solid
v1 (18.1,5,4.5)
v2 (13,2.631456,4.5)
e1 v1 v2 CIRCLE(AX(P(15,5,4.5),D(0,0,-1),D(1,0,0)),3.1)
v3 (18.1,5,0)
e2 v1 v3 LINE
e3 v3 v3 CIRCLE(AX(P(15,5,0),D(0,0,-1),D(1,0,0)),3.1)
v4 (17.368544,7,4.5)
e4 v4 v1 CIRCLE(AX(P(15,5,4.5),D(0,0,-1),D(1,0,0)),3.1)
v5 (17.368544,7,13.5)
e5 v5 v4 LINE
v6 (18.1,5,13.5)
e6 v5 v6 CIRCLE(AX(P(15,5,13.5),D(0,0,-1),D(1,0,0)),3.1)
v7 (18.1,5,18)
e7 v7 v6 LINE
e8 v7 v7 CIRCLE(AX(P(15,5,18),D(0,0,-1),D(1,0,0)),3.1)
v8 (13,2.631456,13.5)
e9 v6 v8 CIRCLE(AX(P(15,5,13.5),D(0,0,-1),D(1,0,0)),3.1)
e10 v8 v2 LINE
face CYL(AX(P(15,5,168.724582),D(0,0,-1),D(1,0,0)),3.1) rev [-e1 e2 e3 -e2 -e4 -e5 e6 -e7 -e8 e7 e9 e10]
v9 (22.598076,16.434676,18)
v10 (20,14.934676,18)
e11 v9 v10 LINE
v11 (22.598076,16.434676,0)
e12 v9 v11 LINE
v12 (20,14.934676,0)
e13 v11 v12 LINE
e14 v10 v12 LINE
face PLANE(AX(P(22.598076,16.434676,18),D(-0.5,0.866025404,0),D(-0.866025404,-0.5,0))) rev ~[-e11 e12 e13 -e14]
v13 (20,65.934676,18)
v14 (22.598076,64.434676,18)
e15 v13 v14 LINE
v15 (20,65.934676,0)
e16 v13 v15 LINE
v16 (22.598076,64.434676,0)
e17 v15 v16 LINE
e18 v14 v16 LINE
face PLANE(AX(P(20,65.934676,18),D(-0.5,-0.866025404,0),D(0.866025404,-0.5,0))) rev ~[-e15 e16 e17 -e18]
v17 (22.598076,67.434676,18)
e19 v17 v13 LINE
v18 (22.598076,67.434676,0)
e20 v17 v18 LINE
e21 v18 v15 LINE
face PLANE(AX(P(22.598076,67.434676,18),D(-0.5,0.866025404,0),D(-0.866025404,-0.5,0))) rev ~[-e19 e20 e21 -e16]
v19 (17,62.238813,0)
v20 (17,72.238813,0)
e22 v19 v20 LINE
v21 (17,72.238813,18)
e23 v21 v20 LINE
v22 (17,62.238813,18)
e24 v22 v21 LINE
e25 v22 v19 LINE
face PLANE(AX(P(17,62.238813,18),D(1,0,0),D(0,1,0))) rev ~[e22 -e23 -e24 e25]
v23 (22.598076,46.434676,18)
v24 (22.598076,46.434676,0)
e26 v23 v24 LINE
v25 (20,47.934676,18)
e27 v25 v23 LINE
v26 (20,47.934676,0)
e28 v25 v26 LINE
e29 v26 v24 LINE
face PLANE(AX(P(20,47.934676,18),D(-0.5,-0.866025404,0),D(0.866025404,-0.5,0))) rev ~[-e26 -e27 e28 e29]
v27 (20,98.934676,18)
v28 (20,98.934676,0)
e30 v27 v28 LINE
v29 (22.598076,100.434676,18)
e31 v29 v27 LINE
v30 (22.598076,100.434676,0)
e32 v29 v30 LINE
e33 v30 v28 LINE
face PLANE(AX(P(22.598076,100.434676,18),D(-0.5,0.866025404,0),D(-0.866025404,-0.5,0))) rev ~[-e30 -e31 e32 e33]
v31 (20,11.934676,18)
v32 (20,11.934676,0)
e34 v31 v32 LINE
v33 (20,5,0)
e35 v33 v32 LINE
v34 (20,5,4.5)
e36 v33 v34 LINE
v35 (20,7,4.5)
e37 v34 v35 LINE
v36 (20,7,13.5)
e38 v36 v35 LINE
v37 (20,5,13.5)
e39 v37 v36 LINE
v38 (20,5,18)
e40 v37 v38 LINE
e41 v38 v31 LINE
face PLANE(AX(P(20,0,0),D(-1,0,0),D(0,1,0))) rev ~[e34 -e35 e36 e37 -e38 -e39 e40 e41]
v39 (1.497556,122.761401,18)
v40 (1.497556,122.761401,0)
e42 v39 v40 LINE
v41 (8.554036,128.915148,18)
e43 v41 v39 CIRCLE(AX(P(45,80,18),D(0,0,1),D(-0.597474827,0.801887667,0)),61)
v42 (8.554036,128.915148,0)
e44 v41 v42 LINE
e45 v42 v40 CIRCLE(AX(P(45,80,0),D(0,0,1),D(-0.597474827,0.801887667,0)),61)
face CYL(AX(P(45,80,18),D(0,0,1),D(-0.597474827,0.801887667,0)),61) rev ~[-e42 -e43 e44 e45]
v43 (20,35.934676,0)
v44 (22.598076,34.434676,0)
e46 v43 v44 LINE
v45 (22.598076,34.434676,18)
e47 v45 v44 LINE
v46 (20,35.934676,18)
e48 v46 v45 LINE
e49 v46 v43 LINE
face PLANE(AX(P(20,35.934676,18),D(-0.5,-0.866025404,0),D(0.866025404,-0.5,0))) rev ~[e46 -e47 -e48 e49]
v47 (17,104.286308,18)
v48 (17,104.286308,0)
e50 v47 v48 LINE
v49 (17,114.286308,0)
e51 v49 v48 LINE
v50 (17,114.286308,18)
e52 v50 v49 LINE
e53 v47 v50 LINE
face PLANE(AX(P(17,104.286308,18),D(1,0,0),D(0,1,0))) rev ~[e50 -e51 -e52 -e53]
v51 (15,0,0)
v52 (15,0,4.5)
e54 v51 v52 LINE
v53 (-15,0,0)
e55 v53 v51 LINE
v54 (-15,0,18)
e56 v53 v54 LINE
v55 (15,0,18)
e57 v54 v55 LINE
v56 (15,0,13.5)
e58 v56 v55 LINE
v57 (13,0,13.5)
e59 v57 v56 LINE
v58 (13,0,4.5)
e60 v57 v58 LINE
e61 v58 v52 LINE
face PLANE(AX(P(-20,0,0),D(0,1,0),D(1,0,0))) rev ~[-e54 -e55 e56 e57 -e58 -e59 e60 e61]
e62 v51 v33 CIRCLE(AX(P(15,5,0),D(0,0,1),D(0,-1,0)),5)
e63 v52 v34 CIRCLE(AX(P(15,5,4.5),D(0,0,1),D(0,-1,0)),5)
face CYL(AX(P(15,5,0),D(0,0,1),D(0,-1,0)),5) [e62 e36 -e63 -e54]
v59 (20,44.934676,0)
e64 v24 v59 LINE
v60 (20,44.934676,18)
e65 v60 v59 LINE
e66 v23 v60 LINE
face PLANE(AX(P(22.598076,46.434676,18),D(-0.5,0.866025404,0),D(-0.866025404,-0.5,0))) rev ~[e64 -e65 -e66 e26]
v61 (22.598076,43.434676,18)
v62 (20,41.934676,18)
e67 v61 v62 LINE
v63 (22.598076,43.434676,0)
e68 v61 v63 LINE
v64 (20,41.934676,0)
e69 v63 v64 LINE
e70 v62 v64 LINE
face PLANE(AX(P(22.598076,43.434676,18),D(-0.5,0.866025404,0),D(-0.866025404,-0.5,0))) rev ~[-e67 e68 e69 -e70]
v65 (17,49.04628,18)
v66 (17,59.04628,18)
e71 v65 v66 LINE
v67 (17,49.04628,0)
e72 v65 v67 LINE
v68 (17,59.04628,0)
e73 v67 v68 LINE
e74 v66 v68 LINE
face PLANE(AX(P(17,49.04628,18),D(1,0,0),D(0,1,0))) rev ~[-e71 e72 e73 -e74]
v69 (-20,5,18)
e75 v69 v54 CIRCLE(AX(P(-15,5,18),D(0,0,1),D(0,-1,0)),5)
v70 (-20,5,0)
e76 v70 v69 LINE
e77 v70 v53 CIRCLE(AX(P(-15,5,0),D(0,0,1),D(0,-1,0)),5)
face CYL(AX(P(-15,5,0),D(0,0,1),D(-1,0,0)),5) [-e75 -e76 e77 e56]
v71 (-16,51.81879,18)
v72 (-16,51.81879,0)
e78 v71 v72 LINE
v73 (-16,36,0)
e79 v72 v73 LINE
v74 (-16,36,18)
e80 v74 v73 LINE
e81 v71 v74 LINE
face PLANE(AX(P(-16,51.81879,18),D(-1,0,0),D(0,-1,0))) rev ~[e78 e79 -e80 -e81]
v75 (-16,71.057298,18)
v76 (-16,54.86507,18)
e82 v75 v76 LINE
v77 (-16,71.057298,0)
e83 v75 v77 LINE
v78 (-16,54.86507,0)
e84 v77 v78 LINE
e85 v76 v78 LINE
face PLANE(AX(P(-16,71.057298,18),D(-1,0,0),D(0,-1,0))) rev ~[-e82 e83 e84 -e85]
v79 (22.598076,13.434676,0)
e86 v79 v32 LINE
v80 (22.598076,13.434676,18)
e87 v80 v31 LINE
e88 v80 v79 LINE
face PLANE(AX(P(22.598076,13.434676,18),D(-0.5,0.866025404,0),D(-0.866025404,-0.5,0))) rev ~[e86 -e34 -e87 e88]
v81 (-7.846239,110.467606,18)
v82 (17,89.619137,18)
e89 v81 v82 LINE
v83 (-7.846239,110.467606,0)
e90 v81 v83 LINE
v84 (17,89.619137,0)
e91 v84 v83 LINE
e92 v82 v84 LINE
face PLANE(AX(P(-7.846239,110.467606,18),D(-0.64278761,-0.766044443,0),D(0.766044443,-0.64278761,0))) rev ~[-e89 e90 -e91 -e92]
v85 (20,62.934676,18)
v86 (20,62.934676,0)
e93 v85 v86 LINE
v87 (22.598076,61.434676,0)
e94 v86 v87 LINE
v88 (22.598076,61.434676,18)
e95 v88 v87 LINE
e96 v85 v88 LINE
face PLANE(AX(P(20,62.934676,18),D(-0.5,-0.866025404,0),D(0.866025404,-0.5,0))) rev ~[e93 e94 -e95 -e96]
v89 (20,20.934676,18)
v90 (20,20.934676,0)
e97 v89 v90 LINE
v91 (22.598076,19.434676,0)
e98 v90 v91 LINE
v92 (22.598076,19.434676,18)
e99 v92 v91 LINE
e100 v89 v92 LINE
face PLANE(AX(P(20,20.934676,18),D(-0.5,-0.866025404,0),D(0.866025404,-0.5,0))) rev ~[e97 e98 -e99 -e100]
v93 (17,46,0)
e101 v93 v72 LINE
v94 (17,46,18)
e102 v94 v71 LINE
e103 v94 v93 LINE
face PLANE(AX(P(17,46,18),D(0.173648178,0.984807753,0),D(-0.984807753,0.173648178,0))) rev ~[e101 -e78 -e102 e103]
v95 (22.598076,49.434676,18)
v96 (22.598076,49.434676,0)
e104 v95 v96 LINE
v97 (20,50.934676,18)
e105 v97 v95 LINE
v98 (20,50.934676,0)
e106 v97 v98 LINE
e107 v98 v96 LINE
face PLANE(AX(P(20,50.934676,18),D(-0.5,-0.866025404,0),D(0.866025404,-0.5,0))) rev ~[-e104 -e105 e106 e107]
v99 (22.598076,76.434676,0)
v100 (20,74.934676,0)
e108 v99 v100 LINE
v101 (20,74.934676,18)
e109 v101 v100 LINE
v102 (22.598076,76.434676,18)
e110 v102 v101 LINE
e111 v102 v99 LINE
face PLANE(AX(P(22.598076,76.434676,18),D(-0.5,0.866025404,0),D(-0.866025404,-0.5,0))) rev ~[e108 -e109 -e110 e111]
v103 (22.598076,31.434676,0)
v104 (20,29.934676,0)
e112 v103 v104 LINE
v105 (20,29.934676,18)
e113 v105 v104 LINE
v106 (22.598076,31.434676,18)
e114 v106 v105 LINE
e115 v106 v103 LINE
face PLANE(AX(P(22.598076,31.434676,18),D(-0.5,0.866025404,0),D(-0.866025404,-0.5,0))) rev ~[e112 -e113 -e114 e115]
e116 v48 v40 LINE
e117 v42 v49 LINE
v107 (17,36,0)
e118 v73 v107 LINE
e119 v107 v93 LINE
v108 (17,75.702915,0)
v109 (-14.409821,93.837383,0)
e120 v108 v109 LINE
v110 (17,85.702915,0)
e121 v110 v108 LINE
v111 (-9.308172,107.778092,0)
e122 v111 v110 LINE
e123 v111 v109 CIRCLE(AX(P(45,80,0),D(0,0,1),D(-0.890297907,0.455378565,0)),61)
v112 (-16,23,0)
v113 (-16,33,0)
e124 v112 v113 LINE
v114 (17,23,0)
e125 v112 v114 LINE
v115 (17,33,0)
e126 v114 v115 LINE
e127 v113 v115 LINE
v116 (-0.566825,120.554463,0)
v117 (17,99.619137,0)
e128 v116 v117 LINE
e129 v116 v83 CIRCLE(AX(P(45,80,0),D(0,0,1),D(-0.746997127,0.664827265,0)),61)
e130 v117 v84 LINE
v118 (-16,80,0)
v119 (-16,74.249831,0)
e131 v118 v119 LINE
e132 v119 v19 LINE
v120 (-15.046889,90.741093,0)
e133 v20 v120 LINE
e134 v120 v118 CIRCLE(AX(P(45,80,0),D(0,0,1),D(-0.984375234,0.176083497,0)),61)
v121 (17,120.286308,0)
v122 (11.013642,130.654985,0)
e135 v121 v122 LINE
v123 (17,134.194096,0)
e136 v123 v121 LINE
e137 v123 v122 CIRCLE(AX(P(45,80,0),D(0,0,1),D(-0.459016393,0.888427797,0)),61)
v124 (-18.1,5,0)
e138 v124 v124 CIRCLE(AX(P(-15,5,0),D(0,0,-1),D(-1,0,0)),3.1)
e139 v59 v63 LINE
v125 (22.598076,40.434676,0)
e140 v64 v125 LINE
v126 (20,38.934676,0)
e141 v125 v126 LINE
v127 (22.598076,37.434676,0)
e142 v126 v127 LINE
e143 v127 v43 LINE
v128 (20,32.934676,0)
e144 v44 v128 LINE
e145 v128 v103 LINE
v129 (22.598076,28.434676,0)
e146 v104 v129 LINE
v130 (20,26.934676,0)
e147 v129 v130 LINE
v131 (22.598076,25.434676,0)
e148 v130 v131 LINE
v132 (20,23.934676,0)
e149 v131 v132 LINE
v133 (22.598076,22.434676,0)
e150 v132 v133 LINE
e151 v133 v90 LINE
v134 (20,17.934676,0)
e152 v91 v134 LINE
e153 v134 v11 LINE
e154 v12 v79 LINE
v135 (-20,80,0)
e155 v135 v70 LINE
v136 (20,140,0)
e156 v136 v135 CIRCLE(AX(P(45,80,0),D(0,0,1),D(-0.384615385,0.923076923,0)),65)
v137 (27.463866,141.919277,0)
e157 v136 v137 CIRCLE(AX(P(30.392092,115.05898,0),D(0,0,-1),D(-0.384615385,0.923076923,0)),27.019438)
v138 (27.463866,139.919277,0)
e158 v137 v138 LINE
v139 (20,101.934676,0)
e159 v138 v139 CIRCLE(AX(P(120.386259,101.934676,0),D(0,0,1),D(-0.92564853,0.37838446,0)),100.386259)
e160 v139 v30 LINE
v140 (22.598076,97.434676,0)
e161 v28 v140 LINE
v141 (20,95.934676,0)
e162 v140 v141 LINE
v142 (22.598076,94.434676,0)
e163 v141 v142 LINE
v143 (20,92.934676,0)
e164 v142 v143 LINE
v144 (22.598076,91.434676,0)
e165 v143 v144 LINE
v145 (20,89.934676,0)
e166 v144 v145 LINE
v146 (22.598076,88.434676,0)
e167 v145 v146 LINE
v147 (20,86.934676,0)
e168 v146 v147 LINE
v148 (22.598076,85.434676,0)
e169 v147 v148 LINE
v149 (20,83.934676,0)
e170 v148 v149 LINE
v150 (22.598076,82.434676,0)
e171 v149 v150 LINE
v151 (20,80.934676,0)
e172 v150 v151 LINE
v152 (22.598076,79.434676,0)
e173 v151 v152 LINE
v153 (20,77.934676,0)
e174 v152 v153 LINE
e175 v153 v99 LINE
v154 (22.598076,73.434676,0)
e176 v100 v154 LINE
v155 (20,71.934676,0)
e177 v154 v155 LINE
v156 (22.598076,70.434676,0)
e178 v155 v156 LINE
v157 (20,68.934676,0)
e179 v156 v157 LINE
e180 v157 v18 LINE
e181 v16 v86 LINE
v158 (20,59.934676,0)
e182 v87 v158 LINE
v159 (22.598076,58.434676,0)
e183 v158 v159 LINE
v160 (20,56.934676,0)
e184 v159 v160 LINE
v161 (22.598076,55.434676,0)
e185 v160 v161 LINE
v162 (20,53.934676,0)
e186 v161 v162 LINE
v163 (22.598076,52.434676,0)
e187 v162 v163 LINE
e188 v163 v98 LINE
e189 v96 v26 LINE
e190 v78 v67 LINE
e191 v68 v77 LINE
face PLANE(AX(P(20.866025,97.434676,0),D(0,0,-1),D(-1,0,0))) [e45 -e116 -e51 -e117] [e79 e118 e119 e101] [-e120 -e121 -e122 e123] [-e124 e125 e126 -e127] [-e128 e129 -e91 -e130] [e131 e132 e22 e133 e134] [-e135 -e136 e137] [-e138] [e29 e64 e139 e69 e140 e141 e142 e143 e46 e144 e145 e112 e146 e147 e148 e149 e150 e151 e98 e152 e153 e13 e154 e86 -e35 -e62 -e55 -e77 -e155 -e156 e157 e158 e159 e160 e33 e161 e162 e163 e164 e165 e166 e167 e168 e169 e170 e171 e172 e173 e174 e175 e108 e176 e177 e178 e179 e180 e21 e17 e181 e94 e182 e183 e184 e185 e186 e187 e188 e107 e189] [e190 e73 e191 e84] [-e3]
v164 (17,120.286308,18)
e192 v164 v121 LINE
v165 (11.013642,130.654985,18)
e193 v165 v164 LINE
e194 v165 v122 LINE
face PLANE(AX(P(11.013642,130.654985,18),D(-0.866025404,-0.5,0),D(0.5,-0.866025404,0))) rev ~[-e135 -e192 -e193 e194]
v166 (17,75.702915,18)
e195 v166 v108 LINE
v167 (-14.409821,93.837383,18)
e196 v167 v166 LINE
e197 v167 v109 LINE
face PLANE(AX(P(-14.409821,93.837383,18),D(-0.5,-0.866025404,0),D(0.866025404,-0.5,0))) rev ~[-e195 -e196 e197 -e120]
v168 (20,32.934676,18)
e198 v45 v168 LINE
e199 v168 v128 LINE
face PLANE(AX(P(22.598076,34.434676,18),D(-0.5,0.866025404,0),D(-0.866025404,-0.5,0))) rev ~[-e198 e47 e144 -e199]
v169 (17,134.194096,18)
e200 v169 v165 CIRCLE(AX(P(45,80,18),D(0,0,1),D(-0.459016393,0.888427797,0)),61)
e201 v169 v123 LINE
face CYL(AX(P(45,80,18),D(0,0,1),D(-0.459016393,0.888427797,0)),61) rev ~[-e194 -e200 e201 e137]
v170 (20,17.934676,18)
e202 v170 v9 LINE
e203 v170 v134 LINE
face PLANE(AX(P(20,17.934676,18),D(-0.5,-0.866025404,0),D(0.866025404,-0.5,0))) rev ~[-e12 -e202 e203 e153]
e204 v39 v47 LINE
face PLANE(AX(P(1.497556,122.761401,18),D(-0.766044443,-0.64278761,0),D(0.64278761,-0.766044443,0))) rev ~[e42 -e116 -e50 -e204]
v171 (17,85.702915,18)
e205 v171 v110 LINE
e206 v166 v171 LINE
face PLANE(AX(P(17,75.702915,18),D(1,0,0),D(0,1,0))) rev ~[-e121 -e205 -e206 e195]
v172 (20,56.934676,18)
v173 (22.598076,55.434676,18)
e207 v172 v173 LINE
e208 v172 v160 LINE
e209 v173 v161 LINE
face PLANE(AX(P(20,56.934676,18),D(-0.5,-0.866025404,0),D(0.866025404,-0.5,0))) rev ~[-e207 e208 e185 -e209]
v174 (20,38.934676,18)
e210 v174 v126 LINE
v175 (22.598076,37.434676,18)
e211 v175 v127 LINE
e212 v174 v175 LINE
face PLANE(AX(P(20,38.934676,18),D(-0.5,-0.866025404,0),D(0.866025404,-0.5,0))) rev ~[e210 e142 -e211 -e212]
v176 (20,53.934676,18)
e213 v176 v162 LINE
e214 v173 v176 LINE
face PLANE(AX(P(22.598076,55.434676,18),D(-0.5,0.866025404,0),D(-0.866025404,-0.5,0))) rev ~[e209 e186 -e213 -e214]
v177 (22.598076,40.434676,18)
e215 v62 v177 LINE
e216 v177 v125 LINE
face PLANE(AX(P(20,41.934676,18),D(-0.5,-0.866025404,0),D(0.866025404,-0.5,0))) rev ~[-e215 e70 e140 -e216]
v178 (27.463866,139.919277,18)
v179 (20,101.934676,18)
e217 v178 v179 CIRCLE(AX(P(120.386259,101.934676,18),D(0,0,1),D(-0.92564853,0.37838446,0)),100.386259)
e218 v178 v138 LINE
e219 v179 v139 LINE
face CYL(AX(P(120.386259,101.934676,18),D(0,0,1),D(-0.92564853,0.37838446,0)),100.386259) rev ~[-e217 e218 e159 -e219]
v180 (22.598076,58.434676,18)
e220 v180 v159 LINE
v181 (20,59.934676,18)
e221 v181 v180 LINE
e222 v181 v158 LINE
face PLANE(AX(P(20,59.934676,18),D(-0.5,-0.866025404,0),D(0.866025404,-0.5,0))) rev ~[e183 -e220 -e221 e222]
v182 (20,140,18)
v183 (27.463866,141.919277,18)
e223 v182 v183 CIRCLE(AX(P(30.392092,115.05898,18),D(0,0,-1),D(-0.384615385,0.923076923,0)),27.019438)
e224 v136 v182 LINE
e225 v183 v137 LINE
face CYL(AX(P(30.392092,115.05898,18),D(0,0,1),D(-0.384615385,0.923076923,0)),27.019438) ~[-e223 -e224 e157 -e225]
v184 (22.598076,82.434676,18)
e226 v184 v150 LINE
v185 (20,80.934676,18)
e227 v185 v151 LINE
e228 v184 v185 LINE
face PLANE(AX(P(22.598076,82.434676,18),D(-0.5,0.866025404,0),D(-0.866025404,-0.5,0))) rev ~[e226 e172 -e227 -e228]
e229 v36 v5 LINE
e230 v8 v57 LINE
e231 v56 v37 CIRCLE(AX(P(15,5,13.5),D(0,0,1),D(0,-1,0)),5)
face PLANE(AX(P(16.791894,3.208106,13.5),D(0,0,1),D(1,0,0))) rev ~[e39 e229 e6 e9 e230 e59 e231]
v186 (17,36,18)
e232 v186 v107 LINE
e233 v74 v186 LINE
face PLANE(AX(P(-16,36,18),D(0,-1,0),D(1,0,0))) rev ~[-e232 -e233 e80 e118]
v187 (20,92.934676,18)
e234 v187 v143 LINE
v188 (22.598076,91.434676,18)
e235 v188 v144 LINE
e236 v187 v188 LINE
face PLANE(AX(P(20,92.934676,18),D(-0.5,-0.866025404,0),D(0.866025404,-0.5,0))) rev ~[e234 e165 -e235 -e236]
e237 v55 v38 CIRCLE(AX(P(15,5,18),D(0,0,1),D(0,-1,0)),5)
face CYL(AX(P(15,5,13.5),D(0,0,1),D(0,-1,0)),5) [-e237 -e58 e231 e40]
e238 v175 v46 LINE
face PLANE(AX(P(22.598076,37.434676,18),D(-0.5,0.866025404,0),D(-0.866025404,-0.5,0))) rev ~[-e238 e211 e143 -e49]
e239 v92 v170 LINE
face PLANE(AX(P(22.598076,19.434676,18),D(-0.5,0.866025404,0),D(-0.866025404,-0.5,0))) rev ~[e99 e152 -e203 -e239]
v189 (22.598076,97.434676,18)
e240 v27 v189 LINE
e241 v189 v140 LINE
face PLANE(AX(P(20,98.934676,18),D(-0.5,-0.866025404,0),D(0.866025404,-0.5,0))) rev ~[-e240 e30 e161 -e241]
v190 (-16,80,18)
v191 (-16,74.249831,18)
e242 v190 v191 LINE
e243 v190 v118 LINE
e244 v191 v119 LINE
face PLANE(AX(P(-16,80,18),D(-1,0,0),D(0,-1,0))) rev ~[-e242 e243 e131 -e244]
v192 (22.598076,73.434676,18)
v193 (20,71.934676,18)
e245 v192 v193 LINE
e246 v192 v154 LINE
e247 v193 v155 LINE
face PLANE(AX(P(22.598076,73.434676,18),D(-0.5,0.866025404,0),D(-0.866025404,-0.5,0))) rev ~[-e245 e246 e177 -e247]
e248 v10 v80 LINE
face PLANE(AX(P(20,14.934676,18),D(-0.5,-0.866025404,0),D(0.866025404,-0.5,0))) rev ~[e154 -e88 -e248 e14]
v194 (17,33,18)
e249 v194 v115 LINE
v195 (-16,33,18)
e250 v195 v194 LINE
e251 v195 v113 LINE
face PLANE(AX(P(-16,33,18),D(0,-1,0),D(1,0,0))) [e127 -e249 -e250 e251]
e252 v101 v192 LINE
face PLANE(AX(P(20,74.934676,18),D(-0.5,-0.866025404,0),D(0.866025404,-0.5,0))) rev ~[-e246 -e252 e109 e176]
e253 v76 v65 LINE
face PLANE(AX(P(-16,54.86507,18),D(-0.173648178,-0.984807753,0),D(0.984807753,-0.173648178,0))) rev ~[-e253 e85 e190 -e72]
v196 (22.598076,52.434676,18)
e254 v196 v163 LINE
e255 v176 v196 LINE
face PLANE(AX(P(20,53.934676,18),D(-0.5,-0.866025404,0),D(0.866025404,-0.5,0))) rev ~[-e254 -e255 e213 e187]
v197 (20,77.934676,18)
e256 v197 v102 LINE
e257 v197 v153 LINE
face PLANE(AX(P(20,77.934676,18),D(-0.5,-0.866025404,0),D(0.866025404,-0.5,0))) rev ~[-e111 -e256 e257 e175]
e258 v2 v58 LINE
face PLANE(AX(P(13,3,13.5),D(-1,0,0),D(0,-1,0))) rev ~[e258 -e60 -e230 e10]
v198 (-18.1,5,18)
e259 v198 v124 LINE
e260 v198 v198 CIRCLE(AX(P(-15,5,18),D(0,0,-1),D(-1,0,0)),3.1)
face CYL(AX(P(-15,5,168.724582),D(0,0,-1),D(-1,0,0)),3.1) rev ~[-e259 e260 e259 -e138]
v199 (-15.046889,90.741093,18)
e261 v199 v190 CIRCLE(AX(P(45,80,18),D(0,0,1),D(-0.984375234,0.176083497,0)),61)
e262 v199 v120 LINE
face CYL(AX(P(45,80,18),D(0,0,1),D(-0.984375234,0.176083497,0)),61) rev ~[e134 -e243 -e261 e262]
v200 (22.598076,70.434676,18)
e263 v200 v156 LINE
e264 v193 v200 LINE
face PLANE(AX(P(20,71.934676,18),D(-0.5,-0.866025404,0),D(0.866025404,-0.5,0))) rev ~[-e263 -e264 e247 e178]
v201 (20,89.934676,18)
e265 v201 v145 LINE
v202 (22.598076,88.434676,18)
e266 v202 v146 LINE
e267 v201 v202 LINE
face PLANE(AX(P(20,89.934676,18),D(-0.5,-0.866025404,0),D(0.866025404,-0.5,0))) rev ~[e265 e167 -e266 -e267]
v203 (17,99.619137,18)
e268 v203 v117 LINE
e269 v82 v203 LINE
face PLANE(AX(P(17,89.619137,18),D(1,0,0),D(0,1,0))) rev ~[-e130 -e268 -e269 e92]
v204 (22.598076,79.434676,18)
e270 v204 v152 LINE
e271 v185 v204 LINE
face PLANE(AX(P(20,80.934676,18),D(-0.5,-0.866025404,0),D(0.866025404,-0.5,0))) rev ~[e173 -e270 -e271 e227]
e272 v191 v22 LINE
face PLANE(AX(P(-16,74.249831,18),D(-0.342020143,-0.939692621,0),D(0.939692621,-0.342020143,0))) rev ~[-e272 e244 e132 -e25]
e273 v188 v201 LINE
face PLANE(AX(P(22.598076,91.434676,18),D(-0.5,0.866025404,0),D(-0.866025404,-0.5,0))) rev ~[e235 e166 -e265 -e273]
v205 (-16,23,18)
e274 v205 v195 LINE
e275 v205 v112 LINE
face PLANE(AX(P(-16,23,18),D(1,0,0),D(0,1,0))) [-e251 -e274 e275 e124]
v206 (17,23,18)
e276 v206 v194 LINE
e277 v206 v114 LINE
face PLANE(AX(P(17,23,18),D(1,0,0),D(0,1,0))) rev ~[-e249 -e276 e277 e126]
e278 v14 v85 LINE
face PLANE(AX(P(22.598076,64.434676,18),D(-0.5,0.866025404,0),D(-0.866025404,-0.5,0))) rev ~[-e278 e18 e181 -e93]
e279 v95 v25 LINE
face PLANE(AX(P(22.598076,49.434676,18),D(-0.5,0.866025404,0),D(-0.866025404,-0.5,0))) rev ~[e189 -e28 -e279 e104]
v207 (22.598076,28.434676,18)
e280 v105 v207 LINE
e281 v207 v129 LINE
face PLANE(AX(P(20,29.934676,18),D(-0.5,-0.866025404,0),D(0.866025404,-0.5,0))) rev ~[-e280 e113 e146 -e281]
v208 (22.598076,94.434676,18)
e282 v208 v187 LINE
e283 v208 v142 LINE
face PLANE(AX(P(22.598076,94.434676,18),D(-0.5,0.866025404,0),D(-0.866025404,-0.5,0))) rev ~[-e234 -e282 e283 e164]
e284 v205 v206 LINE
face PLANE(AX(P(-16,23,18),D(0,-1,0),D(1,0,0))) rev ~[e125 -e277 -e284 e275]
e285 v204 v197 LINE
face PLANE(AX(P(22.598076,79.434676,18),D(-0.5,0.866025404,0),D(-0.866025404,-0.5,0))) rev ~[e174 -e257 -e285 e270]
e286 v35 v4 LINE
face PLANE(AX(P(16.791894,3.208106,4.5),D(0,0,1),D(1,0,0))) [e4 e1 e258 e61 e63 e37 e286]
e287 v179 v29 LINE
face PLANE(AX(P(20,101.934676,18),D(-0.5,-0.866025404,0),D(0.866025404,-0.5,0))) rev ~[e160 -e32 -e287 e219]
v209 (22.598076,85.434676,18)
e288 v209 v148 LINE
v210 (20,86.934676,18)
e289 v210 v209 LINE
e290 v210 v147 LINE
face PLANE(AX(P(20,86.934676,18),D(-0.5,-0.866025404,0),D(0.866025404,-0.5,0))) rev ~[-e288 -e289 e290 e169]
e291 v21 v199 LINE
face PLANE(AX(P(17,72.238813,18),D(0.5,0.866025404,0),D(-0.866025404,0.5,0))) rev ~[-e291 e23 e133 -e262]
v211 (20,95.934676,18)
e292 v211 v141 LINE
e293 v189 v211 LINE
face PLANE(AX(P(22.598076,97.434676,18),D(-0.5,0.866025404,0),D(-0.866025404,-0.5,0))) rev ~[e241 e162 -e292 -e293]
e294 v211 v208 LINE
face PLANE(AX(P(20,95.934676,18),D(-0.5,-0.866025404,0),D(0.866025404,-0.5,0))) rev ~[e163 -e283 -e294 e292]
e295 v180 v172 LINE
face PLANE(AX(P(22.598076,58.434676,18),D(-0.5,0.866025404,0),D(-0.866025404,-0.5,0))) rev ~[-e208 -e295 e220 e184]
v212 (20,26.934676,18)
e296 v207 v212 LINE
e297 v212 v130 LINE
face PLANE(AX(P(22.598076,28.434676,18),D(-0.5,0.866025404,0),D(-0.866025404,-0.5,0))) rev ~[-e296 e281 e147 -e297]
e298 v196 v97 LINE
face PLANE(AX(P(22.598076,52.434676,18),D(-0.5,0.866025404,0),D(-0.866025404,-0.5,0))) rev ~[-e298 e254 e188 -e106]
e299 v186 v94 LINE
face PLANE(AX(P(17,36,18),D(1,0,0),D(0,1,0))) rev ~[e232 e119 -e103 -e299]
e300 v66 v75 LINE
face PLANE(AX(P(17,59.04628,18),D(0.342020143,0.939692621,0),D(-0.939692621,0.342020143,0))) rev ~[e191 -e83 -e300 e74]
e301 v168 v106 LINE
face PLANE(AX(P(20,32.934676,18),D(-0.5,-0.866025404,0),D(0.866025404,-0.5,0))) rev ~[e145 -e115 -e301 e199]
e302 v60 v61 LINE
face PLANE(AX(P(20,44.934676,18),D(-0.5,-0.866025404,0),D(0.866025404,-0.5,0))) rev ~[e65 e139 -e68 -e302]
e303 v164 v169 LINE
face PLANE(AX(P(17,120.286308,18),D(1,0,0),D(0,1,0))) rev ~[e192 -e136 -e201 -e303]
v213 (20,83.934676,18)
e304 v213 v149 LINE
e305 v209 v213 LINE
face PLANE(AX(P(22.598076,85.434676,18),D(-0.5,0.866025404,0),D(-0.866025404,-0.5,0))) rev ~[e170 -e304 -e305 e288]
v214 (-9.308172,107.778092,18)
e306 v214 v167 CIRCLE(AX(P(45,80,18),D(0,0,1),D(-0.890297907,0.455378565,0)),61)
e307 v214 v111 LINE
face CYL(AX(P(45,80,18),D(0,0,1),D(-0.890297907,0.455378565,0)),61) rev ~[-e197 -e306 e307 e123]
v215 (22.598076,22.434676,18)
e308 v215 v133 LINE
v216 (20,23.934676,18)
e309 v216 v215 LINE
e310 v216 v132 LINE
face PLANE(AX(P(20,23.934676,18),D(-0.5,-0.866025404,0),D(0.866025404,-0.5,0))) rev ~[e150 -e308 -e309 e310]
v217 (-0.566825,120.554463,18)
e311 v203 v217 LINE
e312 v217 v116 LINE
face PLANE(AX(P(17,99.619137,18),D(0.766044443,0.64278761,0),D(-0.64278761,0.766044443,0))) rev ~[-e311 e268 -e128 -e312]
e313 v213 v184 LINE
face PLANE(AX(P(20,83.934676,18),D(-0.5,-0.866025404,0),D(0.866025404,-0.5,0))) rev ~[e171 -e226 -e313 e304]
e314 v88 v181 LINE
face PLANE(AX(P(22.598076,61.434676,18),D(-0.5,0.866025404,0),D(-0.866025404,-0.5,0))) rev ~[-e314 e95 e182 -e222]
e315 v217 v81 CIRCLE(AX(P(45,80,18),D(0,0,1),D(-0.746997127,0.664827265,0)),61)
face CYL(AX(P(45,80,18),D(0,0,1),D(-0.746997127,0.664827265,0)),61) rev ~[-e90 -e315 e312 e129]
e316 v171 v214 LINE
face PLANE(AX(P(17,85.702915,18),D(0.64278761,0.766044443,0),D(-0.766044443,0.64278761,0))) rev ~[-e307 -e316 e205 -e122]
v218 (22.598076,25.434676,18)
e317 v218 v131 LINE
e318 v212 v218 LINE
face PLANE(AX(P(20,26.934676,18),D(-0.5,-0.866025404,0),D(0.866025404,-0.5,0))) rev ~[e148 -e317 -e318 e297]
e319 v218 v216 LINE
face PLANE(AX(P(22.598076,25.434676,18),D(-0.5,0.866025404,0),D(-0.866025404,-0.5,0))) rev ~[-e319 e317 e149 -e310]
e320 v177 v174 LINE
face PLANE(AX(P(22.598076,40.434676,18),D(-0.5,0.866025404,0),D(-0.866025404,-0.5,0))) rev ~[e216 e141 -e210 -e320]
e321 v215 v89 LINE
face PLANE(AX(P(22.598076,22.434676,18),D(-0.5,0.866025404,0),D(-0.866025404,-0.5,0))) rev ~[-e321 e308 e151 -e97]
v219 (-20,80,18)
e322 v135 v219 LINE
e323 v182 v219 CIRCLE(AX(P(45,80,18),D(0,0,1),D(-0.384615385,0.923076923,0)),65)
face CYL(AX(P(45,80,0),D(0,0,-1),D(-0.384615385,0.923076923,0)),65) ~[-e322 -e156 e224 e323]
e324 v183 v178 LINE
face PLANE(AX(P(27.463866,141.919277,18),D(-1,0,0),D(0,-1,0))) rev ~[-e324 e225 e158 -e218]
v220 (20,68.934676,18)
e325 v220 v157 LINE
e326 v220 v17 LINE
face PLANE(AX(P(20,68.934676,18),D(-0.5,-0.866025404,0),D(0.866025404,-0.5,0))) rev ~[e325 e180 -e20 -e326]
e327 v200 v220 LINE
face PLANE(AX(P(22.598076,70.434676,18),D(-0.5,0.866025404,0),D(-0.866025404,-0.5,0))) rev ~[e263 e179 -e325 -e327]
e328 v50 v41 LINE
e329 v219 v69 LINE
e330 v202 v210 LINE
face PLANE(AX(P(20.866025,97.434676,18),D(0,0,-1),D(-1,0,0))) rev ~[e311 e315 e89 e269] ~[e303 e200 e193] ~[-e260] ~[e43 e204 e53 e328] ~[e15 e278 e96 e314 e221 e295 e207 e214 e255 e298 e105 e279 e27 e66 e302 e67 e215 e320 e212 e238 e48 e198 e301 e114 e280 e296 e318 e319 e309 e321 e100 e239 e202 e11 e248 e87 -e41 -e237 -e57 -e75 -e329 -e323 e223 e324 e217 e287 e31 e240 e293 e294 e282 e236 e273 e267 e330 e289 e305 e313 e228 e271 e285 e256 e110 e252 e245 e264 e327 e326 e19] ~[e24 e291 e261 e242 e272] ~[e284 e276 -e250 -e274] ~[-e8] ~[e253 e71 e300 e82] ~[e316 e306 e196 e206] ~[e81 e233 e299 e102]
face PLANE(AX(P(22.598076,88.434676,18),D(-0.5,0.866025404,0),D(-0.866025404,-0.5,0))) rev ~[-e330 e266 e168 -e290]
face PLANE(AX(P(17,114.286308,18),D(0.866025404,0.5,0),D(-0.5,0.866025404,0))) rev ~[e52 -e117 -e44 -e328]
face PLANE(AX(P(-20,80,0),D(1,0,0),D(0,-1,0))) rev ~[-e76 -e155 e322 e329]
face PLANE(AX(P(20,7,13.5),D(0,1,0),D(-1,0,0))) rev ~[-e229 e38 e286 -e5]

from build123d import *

# Parameters (mm, degrees)
BOSS_EXTRUDE1_DEPTH     = 18
SKETCH3_W               = 33
SKETCH3_H               = 10
CUT_EXTRUDE1_DEPTH      = 143.562267098
CUT_EXTRUDE2_DEPTH      = 143.562267098
CUT_EXTRUDE3_DEPTH      = 143.562267098
CUT_EXTRUDE4_DEPTH      = 143.562267098
BOSS_EXTRUDE2_DEPTH     = 18
BOSS_EXTRUDE3_DEPTH     = 18
LPATTERN1_COUNT         = 30
LPATTERN1_PITCH         = 3
CUT_EXTRUDE5_DEPTH      = 146.668613805
CUT_EXTRUDE6_DEPTH      = 146.668613805
CUT_EXTRUDE7_DEPTH      = 146.668613805
CUT_EXTRUDE8_DEPTH      = 146.668613805
CUT_EXTRUDE9_DEPTH      = 4.5
CUT_EXTRUDE9_DEPTH_BACK = 4.5
FILLET1_R               = 5
F_6_0_MM_DOWEL_HOLES1_D = 6.2


with BuildPart() as part:
    # Sketch2 → Boss-Extrude1 (new body)
    with BuildSketch(Plane.XY):
        with BuildLine():
            Line((-20, 0), (20, 0))
            Line((20, 0), (20, 140))
            ThreePointArc((20, 140), (-9.083269132, 116.055512755), (-20, 80))
            Line((-20, 80), (-20, 0))
        make_face()
    extrude(amount=BOSS_EXTRUDE1_DEPTH)

    # Sketch3 → Cut-Extrude1 (cut, through all)
    with BuildSketch(Plane.XY.offset(18)):
        with Locations((0.5, 28)):
            Rectangle(SKETCH3_W, SKETCH3_H)
    extrude(amount=-CUT_EXTRUDE1_DEPTH, mode=Mode.SUBTRACT)

    # Sketch4 → Cut-Extrude2 (cut, through all)
    with BuildSketch(Plane.XY.offset(18)):
        Polygon((-16, 36), (17, 36), (17, 46), (-16, 51.818790363), align=None)
    extrude(amount=-CUT_EXTRUDE2_DEPTH, mode=Mode.SUBTRACT)

    # Sketch5 → Cut-Extrude3 (cut, through all)
    with BuildSketch(Plane.XY.offset(18)):
        Polygon((-16, 54.865070199), (17, 49.046279836), (17, 59.046279836), (-16, 71.057297566), align=None)
    extrude(amount=-CUT_EXTRUDE3_DEPTH, mode=Mode.SUBTRACT)

    # Sketch6 → Cut-Extrude4 (cut, through all)
    with BuildSketch(Plane.XY.offset(18)):
        with BuildLine():
            Line((-16, 74.249830884), (17, 62.238813153))
            Line((17, 62.238813153), (17, 72.238813153))
            Line((17, 72.238813153), (-15.046889298, 90.741093316))
            ThreePointArc((-15.046889298, 90.741093316), (-15.761255119, 85.391648765), (-16, 80))
            Line((-16, 80), (-16, 74.249830884))
        make_face()
    extrude(amount=-CUT_EXTRUDE4_DEPTH, mode=Mode.SUBTRACT)

    # Sketch13 → Boss-Extrude2 (add)
    with BuildSketch(Plane.XY.offset(18)):
        with BuildLine():
            Line((27.463865989, 141.919276749), (27.463865989, 139.919276749))
            ThreePointArc((27.463865989, 139.919276749), (21.883638711, 121.290161062), (20, 101.934676234))
            Line((20, 101.934676234), (20, 140))
            ThreePointArc((20, 140), (23.663152719, 141.227117654), (27.463865989, 141.919276749))
        make_face()
    extrude(amount=-BOSS_EXTRUDE2_DEPTH)

    # Sketch15 → Boss-Extrude3 (add)
    with BuildSketch(Plane.XY.offset(18)):
        Polygon((20, 101.934676234), (22.598076211, 100.434676234), (20, 98.934676234), align=None)
    boss_extrude3 = extrude(amount=-BOSS_EXTRUDE3_DEPTH)

    # LPattern1: Boss-Extrude3 ×30
    with Locations(*[(0, -i * LPATTERN1_PITCH, 0) for i in range(1, LPATTERN1_COUNT)]):
        add(boss_extrude3)

    # Sketch17 → Cut-Extrude5 (cut, through all)
    with BuildSketch(Plane.XY.offset(18)):
        with BuildLine():
            Line((-14.409820926, 93.837383335), (17, 75.702914768))
            Line((17, 75.702914768), (17, 85.702914768))
            Line((17, 85.702914768), (-9.308172311, 107.778092451))
            ThreePointArc((-9.308172311, 107.778092451), (-12.284651864, 100.963507838), (-14.409820926, 93.837383335))
        make_face()
    extrude(amount=-CUT_EXTRUDE5_DEPTH, mode=Mode.SUBTRACT)

    # Sketch18 → Cut-Extrude6 (cut, through all)
    with BuildSketch(Plane.XY.offset(18)):
        with BuildLine():
            Line((-7.846238812, 110.46760646), (17, 89.619136636))
            Line((17, 89.619136636), (17, 99.619136636))
            Line((17, 99.619136636), (-0.566824758, 120.554463152))
            ThreePointArc((-0.566824758, 120.554463152), (-4.464319866, 115.697073553), (-7.846238812, 110.46760646))
        make_face()
    extrude(amount=-CUT_EXTRUDE6_DEPTH, mode=Mode.SUBTRACT)

    # Sketch19 → Cut-Extrude7 (cut, through all)
    with BuildSketch(Plane.XY.offset(18)):
        with BuildLine():
            Line((1.497556464, 122.761400894), (17, 104.286308117))
            Line((17, 104.286308117), (17, 114.286308117))
            Line((17, 114.286308117), (8.554035532, 128.915147695))
            ThreePointArc((8.554035532, 128.915147695), (4.907555132, 125.973860666), (1.497556464, 122.761400894))
        make_face()
    extrude(amount=-CUT_EXTRUDE7_DEPTH, mode=Mode.SUBTRACT)

    # Sketch21 → Cut-Extrude8 (cut, through all)
    with BuildSketch(Plane.XY.offset(18)):
        with BuildLine():
            Line((11.013641865, 130.654984559), (17, 120.286308117))
            Line((17, 120.286308117), (17, 134.194095619))
            ThreePointArc((17, 134.194095619), (13.956345649, 132.509918344), (11.013641865, 130.654984559))
        make_face()
    extrude(amount=-CUT_EXTRUDE8_DEPTH, mode=Mode.SUBTRACT)

    # Sketch25 → Cut-Extrude9 (cut, two sides: drawn at the far end of the back side and taken through both)
    with BuildSketch(Plane(origin=(0, 0, 9), x_dir=(-1, 0, 0), z_dir=(0, 0, -1)).offset(-CUT_EXTRUDE9_DEPTH_BACK)):
        with BuildLine():
            Line((-20, 0), (-20, 7))
            Line((-20, 7), (-17, 7))
            ThreePointArc((-17, 7), (-14.171572875, 5.828427125), (-13, 3))
            Line((-13, 3), (-13, 0))
            Line((-13, 0), (-20, 0))
        make_face()
    extrude(amount=CUT_EXTRUDE9_DEPTH + CUT_EXTRUDE9_DEPTH_BACK, mode=Mode.SUBTRACT)

    # Fillet1
    fillet1_edges = [part.edges().sort_by_distance(p)[0] for p in [
        (20, 0, 2.25),
        (20, 0, 15.75),
        (-20, 0, 9),
    ]]
    fillet(fillet1_edges, radius=FILLET1_R)

    # Ø6.0 mm Dowel Holes1 (through all)
    with Locations(Plane.XY.offset(18)):
        with Locations((-15, 5)):
            f_6_0_mm_dowel_holes1 = Hole(F_6_0_MM_DOWEL_HOLES1_D / 2)

    # Mirror1: Ø6.0 mm Dowel Holes1 across plane
    add(f_6_0_mm_dowel_holes1.mirror(Plane(origin=(0, 0, 0), x_dir=(0, 0, 1), z_dir=(1, 0, 0))), mode=Mode.SUBTRACT)


solid = part.part
